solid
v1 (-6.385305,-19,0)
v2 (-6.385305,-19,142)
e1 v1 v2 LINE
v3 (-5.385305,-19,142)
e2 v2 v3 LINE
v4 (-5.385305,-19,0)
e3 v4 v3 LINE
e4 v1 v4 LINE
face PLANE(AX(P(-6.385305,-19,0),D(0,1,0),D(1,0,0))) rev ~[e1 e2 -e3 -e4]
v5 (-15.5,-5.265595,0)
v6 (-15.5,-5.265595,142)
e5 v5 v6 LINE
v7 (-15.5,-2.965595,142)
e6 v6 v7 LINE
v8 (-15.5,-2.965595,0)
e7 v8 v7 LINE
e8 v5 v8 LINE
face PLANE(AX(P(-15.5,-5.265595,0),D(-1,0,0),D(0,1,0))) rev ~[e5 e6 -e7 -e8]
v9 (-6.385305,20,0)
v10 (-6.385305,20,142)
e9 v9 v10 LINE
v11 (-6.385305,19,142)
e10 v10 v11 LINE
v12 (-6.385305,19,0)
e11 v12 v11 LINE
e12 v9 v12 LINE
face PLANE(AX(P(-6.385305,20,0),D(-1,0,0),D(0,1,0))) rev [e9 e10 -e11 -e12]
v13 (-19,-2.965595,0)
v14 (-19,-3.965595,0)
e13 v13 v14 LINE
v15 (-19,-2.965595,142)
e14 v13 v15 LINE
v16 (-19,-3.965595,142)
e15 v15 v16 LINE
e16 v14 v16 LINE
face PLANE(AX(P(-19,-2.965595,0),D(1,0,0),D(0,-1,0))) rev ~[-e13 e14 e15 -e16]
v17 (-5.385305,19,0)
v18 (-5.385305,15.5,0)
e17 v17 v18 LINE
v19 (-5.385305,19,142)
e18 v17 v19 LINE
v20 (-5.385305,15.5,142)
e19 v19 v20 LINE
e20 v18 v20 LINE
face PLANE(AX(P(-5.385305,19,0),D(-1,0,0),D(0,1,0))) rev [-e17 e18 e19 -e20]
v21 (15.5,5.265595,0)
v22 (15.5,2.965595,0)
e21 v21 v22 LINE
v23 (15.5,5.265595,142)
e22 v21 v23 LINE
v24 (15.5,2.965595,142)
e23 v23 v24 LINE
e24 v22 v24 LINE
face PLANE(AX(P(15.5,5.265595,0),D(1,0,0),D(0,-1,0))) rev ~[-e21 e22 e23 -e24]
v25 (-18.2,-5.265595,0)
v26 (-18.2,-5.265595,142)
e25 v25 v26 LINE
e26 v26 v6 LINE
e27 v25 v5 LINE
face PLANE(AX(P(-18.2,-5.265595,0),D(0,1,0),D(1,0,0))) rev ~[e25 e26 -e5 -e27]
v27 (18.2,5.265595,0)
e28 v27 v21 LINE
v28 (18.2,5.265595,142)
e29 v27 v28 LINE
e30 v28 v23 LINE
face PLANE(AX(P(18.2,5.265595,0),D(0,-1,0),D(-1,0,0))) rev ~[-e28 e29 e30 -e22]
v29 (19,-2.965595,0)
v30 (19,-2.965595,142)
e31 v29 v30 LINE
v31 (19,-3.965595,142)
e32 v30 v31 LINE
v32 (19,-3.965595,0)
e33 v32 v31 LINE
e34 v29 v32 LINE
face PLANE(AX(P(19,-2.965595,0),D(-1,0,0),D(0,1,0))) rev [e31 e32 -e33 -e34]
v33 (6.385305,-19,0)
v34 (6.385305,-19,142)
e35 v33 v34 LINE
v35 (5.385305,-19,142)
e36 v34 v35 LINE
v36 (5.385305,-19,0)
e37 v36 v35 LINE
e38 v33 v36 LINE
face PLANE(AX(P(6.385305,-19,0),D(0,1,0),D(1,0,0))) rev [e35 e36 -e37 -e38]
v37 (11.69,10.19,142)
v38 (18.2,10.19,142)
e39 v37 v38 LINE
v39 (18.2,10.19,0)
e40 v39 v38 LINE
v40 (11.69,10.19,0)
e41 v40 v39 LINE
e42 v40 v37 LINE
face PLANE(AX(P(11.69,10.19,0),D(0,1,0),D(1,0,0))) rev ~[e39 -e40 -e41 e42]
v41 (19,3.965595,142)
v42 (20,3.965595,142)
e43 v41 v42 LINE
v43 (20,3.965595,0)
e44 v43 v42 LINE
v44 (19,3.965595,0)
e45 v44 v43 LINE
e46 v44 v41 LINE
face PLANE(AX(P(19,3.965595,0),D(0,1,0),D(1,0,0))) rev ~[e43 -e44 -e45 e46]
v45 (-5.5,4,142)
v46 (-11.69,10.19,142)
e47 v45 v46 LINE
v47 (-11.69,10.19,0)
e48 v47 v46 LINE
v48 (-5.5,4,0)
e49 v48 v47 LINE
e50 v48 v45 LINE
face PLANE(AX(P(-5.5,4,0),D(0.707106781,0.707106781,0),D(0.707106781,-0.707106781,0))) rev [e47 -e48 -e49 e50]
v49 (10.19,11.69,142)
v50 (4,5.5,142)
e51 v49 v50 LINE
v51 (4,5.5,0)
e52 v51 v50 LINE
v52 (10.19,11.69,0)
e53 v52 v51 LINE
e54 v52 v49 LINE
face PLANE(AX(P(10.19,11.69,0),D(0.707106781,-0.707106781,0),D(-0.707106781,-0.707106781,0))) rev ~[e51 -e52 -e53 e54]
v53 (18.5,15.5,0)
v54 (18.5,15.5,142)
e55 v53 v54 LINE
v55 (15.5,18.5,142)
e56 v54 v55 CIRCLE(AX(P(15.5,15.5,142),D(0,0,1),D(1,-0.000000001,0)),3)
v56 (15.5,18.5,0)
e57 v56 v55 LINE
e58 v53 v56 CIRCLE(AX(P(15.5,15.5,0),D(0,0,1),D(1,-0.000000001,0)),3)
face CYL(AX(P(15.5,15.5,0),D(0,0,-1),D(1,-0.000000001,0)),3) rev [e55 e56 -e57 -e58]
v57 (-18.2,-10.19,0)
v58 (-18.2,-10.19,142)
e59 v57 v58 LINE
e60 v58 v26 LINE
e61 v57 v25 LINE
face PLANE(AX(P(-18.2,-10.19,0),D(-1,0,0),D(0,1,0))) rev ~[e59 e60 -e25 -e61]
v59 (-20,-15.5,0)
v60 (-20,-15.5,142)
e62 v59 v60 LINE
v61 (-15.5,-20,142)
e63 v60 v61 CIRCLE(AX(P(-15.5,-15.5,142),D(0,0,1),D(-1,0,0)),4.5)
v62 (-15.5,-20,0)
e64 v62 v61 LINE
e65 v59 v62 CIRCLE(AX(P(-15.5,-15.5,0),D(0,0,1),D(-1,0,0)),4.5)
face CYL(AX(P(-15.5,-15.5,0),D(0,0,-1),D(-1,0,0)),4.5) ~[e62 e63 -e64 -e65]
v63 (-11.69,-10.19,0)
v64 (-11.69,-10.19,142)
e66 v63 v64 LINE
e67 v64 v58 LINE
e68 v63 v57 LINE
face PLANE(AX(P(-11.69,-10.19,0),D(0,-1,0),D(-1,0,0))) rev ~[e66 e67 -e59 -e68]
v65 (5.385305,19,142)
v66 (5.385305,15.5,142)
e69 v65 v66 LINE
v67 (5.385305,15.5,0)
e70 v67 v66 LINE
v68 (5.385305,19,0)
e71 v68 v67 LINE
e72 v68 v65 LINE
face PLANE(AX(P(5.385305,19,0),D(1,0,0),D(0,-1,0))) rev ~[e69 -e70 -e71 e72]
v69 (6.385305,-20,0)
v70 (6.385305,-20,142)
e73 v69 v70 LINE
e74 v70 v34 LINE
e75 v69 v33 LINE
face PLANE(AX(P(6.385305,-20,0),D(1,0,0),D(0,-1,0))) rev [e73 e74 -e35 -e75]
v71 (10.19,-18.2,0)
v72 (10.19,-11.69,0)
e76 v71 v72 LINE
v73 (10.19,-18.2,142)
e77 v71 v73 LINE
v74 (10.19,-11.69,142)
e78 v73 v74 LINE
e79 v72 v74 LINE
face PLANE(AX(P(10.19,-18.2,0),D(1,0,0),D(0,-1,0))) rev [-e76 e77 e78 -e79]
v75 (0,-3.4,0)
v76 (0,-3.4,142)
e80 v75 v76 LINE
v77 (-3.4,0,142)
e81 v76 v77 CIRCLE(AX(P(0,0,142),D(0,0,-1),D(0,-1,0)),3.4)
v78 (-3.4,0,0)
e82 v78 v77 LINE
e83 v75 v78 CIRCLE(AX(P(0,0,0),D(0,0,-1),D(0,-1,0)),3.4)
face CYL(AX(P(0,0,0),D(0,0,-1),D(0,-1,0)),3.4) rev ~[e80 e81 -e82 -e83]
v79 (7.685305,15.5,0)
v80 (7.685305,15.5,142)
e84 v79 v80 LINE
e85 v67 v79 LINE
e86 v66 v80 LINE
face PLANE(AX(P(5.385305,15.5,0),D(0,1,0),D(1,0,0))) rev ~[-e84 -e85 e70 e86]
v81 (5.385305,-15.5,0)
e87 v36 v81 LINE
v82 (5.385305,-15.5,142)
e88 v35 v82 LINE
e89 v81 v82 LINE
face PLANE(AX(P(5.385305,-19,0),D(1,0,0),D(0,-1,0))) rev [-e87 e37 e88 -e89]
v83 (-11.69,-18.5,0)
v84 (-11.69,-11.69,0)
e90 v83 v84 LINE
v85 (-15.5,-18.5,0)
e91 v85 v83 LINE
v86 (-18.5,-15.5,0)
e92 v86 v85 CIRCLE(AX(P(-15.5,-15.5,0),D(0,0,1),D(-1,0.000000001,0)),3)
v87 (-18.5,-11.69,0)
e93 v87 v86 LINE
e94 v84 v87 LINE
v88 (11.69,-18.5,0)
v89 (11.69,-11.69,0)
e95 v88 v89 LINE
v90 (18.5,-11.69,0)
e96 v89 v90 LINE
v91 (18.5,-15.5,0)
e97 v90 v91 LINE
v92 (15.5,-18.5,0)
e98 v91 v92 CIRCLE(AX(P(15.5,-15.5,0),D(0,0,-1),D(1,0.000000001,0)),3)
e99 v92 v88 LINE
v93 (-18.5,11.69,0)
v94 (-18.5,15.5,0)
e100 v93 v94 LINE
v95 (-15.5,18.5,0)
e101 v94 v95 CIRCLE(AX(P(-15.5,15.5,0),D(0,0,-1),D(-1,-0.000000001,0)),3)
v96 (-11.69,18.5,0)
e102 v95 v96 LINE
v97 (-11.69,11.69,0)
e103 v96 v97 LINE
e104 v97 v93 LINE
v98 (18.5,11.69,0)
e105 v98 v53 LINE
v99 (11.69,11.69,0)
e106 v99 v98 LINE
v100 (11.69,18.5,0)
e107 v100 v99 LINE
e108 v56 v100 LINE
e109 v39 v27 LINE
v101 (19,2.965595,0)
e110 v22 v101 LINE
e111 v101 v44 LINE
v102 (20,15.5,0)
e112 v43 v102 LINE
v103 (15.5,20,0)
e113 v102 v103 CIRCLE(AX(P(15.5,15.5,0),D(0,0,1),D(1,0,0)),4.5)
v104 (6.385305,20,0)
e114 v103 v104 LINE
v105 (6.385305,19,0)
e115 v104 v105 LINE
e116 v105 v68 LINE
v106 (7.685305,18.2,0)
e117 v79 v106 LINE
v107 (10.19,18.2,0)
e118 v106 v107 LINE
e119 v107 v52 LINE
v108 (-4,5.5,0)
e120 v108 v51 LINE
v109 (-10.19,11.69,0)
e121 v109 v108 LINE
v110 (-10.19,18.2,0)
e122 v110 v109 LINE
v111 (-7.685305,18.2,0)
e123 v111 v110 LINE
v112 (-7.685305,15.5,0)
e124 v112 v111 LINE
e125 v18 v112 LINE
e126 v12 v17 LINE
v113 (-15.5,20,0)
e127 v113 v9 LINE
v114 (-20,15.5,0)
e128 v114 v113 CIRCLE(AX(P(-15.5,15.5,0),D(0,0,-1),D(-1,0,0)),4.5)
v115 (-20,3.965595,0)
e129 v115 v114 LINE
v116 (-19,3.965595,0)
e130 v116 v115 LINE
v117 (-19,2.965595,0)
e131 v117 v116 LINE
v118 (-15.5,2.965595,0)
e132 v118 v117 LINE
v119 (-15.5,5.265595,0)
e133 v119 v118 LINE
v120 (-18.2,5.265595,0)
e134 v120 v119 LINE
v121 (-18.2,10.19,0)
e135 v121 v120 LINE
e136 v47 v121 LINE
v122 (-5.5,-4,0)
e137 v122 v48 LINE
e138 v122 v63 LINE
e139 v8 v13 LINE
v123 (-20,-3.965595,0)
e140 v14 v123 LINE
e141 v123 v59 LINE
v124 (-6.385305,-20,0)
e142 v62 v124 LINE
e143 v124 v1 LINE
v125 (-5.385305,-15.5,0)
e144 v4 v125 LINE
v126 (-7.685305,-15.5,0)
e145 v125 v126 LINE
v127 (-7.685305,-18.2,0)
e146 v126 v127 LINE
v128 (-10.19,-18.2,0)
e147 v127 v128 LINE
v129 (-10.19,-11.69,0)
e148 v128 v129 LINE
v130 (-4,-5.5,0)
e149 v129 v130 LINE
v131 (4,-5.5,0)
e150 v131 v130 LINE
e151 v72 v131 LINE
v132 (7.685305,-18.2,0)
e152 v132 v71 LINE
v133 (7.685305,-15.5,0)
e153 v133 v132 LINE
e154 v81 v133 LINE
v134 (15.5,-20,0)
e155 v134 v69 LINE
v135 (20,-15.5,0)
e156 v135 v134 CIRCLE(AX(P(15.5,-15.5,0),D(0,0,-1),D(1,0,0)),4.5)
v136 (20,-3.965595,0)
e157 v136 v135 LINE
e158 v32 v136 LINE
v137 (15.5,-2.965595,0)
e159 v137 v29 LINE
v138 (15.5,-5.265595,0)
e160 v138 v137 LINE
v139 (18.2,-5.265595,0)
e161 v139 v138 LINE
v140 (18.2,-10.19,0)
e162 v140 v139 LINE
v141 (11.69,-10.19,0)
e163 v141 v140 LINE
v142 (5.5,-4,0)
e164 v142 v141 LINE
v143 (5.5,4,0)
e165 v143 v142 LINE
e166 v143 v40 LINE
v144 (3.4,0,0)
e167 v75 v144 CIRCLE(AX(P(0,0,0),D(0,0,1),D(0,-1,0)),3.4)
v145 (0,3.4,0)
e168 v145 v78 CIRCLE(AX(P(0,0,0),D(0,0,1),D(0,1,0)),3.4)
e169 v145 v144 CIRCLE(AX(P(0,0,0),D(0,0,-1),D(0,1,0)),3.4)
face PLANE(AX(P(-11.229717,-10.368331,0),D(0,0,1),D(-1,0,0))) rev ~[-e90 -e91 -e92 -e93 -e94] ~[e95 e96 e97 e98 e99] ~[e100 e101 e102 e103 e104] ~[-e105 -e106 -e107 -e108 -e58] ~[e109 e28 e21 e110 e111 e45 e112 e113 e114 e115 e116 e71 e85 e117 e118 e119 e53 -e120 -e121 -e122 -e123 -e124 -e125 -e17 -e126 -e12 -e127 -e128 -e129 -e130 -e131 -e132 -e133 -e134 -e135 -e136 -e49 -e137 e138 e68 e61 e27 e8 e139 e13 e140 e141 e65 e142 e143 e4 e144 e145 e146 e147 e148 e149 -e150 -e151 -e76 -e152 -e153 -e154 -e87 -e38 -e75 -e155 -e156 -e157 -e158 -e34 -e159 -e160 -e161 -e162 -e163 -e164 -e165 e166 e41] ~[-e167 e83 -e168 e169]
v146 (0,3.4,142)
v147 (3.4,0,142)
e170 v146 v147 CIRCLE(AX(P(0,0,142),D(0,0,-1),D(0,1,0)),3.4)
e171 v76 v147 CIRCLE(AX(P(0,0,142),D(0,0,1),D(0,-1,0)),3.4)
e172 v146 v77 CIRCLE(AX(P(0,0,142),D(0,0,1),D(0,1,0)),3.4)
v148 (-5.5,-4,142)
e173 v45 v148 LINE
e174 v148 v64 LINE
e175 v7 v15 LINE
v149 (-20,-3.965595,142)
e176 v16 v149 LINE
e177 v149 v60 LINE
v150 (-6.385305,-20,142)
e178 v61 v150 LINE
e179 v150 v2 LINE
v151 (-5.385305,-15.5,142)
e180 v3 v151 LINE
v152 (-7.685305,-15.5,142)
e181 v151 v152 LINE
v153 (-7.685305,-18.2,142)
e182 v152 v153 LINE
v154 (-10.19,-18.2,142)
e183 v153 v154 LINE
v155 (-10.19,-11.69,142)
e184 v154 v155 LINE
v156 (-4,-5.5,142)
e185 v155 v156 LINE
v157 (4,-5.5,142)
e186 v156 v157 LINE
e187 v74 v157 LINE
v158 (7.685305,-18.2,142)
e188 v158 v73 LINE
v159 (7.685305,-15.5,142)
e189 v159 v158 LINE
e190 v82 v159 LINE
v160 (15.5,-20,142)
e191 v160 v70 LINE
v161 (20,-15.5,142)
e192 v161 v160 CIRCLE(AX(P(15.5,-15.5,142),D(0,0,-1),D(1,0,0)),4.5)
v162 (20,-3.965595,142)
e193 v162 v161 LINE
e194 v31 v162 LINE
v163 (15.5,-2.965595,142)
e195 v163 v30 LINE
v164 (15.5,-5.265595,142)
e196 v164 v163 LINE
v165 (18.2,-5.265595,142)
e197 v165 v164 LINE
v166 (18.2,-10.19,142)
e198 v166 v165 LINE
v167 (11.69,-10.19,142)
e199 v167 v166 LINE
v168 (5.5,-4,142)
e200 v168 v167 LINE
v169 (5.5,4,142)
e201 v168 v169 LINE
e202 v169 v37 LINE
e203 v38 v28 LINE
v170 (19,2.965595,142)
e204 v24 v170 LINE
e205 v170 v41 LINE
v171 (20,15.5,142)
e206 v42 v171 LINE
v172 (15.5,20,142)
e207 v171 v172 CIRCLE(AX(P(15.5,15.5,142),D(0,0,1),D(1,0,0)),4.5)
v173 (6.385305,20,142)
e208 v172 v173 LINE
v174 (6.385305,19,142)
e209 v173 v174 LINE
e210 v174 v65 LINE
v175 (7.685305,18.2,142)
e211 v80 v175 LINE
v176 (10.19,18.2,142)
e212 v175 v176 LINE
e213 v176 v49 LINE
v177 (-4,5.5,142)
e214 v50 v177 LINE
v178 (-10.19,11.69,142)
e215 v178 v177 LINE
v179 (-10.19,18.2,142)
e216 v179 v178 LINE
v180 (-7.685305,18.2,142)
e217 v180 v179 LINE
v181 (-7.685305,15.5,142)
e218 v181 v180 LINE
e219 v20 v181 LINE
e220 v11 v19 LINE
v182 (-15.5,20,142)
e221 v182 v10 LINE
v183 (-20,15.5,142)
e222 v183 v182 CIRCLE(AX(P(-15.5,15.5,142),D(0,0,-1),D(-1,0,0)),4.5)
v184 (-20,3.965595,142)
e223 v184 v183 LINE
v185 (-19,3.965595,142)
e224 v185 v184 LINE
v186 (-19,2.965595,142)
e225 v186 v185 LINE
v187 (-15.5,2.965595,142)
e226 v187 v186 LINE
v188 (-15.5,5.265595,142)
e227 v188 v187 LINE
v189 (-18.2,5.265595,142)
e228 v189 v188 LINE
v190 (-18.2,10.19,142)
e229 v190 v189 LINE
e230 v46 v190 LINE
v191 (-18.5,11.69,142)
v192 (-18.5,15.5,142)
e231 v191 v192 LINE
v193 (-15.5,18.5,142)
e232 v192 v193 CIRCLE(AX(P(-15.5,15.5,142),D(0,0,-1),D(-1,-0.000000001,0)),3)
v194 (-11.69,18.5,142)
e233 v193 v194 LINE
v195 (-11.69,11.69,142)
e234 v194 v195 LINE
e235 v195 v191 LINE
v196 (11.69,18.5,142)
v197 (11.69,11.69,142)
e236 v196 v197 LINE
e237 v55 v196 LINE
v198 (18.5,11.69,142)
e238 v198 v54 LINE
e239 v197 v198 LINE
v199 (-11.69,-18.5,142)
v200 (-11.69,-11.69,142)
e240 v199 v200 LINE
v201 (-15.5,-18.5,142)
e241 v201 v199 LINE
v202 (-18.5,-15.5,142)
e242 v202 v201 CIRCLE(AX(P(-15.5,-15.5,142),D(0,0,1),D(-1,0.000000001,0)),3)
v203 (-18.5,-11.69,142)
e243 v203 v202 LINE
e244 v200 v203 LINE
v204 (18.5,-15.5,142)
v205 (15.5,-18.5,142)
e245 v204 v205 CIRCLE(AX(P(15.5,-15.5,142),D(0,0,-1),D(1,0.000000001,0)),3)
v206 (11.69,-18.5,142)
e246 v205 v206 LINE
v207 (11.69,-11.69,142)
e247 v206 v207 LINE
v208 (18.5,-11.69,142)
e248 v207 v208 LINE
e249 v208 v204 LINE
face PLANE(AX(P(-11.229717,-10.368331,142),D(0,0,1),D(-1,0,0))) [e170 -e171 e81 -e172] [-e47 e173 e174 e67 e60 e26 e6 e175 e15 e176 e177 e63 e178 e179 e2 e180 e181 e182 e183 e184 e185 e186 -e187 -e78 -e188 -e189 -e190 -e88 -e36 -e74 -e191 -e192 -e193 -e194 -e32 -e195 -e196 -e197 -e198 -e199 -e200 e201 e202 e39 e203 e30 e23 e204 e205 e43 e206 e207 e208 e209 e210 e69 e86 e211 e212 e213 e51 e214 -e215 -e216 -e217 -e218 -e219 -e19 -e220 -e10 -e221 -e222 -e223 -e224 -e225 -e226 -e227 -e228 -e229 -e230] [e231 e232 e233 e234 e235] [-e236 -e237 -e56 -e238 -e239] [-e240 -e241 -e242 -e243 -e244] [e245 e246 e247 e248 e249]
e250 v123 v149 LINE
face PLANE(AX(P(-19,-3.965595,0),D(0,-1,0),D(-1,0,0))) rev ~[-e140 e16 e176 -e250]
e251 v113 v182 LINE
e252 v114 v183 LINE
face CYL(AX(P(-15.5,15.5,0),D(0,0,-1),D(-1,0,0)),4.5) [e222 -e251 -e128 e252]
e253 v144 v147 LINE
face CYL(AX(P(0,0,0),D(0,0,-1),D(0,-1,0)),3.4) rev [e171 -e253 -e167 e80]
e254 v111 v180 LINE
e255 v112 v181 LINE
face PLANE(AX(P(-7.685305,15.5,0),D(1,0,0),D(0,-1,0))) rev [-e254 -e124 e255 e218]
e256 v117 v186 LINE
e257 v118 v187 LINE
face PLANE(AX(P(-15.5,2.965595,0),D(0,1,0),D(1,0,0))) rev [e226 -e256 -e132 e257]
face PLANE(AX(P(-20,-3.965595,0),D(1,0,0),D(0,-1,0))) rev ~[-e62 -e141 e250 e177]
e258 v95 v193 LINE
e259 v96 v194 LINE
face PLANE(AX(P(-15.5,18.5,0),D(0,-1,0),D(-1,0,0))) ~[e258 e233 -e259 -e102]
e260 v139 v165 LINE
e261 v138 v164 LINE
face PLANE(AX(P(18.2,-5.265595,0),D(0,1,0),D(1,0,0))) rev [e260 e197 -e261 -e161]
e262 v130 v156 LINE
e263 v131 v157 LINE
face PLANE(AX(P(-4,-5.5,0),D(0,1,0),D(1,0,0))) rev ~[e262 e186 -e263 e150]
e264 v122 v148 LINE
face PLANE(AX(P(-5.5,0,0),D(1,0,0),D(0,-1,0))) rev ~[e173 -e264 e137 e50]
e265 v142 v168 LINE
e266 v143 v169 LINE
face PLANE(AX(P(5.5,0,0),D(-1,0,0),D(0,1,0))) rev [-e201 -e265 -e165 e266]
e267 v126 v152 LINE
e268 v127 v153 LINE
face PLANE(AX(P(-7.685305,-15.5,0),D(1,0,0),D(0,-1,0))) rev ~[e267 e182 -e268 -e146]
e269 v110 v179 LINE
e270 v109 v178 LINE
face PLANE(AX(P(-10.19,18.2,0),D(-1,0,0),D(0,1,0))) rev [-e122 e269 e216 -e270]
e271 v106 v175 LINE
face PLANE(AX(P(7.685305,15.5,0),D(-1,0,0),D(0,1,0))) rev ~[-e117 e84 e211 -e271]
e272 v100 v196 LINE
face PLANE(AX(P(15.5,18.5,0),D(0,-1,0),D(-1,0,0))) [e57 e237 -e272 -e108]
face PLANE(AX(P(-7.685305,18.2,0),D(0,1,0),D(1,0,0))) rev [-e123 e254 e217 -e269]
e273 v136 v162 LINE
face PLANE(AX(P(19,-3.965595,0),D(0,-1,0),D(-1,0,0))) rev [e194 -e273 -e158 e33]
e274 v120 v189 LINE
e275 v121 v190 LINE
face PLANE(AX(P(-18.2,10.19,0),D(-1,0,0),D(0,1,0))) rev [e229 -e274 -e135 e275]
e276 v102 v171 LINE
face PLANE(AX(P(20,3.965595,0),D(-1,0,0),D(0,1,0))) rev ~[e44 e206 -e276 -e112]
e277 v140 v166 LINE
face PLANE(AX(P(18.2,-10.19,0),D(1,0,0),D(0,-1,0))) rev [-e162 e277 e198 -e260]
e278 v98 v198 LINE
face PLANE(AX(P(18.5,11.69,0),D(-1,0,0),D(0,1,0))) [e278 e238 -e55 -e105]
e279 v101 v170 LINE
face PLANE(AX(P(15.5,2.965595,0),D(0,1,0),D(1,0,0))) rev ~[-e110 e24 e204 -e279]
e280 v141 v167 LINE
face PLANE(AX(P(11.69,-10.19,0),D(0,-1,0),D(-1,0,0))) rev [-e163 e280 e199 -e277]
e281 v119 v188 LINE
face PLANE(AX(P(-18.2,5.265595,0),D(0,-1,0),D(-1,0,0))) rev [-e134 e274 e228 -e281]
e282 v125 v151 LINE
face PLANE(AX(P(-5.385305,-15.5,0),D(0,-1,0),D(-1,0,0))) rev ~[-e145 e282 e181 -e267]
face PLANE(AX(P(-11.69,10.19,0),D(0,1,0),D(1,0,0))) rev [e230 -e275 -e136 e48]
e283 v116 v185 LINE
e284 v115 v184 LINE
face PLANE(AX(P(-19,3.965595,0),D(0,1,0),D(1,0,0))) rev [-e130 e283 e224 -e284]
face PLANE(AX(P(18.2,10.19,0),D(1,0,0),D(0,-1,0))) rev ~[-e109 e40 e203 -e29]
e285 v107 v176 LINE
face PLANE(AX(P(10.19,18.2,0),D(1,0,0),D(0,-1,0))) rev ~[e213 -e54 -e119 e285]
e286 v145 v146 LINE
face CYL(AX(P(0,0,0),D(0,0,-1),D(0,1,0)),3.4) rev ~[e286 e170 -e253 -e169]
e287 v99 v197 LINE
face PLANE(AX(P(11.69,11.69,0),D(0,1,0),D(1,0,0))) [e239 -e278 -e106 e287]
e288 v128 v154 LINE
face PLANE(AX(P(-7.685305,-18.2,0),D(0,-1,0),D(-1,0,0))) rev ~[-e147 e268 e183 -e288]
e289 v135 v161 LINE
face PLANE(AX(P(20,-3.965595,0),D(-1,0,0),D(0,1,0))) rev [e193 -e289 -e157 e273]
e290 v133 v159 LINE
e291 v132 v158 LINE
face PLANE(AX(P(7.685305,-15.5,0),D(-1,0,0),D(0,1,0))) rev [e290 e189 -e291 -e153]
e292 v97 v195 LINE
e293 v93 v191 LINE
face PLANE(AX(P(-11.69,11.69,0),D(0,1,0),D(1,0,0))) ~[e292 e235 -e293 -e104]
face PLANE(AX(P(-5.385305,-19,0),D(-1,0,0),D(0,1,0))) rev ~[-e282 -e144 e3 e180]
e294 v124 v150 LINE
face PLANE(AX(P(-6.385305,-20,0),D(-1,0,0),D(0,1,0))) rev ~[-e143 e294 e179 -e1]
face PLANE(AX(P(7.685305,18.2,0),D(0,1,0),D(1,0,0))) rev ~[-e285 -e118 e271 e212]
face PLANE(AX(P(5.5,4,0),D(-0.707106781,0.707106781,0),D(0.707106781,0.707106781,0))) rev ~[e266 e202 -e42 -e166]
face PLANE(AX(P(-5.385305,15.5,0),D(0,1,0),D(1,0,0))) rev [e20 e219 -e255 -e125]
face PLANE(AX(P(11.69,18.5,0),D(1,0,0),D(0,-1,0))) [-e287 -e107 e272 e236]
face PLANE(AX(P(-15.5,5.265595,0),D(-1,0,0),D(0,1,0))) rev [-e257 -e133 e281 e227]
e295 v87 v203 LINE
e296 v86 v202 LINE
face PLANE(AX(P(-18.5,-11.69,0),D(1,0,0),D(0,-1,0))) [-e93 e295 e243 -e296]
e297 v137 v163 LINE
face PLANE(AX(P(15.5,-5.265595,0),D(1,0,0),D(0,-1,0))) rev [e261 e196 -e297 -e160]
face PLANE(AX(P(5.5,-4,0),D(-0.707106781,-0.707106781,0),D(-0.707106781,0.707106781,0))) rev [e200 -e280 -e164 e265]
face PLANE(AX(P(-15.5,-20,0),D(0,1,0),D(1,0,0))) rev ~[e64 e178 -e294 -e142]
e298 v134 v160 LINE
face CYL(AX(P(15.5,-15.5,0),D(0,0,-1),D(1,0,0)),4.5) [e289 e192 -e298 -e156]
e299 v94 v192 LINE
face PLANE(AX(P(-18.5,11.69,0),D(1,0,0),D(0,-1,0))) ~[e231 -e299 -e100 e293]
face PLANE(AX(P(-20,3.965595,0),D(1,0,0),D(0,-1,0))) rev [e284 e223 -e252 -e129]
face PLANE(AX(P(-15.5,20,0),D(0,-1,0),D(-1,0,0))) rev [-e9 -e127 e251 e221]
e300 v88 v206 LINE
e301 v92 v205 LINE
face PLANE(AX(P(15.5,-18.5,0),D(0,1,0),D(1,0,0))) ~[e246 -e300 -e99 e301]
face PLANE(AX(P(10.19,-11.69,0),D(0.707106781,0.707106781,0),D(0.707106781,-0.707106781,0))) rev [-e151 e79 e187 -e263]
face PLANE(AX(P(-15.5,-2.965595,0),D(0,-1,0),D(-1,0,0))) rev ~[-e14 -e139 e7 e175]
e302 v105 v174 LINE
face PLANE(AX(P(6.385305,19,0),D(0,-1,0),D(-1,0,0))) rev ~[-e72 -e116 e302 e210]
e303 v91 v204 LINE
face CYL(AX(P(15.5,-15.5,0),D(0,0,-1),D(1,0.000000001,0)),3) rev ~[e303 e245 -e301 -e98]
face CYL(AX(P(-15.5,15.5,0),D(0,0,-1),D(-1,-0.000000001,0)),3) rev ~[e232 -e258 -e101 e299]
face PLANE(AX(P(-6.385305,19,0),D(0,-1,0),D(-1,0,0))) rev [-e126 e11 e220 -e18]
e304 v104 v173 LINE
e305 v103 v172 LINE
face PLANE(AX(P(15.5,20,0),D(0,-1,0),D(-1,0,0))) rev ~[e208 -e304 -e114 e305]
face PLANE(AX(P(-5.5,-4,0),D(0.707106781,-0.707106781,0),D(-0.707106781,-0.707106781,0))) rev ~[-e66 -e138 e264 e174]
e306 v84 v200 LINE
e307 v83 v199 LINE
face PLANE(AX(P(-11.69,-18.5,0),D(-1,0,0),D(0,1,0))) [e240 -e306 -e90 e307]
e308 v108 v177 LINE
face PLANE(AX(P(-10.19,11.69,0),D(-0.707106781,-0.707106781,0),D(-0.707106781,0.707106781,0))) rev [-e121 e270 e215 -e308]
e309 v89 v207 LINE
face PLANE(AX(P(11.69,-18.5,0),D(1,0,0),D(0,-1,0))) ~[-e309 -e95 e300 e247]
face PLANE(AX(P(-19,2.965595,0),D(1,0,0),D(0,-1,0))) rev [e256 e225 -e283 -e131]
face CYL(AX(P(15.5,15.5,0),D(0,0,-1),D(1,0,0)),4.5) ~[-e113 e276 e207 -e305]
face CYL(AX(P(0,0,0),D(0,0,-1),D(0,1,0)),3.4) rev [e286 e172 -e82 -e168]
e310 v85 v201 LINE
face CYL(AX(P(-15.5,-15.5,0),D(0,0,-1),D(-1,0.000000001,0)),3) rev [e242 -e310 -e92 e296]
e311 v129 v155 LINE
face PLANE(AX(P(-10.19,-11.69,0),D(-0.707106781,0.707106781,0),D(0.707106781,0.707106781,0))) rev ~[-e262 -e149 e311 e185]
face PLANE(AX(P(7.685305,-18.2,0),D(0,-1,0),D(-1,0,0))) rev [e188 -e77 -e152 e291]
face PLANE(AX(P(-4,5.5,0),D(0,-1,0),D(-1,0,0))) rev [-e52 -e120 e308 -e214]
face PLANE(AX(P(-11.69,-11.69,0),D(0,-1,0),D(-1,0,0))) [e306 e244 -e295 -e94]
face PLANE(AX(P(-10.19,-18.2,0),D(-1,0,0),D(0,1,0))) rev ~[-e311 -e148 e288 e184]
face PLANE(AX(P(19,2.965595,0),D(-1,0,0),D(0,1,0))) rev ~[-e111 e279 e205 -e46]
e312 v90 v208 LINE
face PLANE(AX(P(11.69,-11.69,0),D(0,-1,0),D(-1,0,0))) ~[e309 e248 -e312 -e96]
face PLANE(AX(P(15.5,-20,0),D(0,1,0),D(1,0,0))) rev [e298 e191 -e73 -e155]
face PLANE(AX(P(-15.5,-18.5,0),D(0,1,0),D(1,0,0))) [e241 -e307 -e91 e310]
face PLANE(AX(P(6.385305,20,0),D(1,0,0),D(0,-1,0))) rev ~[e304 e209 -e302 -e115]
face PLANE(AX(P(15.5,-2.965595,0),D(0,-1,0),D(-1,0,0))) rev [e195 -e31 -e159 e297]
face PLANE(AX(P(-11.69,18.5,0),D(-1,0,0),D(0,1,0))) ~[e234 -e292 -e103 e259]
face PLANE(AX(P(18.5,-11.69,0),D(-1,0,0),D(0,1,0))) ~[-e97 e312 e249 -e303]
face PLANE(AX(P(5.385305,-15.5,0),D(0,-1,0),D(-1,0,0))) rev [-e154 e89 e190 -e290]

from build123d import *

# Parameters (mm, degrees)
BOSS_EXTRUDE1_DEPTH  = 142
MIRROR3_COPY_1_DEPTH = 142
MIRROR3_COPY_2_DEPTH = 142


with BuildPart() as part:
    # Sketch1 → Boss-Extrude1 (new body)
    with BuildSketch(Plane.XY):
        with BuildLine():
            Line((3.4, 0), (5.5, 0))
            Line((5.5, 0), (5.5, 4))
            Line((5.5, 4), (11.69, 10.19))
            Line((11.69, 10.19), (18.2, 10.19))
            Line((18.2, 10.19), (18.2, 5.265595036))
            Line((18.2, 5.265595036), (15.5, 5.265595036))
            Line((15.5, 5.265595036), (15.5, 2.965595036))
            Line((15.5, 2.965595036), (19, 2.965595036))
            Line((19, 2.965595036), (19, 3.965595036))
            Line((19, 3.965595036), (20, 3.965595036))
            Line((20, 3.965595036), (20, 15.5))
            ThreePointArc((20, 15.5), (18.681980515, 18.681980515), (15.5, 20))
            Line((15.5, 20), (6.385304712, 20))
            Line((6.385304712, 20), (6.385304712, 19))
            Line((6.385304712, 19), (5.385304712, 19))
            Line((5.385304712, 19), (5.385304712, 15.5))
            Line((5.385304712, 15.5), (7.685304712, 15.5))
            Line((7.685304712, 15.5), (7.685304712, 18.2))
            Line((7.685304712, 18.2), (10.19, 18.2))
            Line((10.19, 18.2), (10.19, 11.69))
            Line((10.19, 11.69), (4, 5.5))
            Line((4, 5.5), (0, 5.5))
            Line((0, 5.5), (0, 3.4))
            ThreePointArc((0, 3.4), (2.404163056, 2.404163056), (3.4, 0))
        make_face()
        with BuildLine():
            Line((18.5, 11.69), (18.5, 15.5))
            ThreePointArc((18.5, 15.5), (17.621320344, 17.621320344), (15.5, 18.5))
            Line((15.5, 18.5), (11.69, 18.5))
            Line((11.69, 18.5), (11.69, 11.69))
            Line((11.69, 11.69), (18.5, 11.69))
        make_face(mode=Mode.SUBTRACT)
    boss_extrude1 = extrude(amount=BOSS_EXTRUDE1_DEPTH)

    # Mirror1: Boss-Extrude1 across plane
    add(boss_extrude1.mirror(Plane.ZX))

    # Mirror2: Boss-Extrude1 across plane
    add(boss_extrude1.mirror(Plane(origin=(0, 0, 0), x_dir=(0, 0, 1), z_dir=(1, 0, 0))))

    # Mirror3 copy 1 sketch → Mirror3 copy 1 (add)
    with BuildSketch(Plane(origin=(0, 0, 0), x_dir=(-1, 0, 0), z_dir=(0, 0, 1))):
        with BuildLine():
            Line((3.4, 0), (5.5, 0))
            Line((5.5, 0), (5.5, 4))
            Line((5.5, 4), (11.69, 10.19))
            Line((11.69, 10.19), (18.2, 10.19))
            Line((18.2, 10.19), (18.2, 5.265595036))
            Line((18.2, 5.265595036), (15.5, 5.265595036))
            Line((15.5, 5.265595036), (15.5, 2.965595036))
            Line((15.5, 2.965595036), (19, 2.965595036))
            Line((19, 2.965595036), (19, 3.965595036))
            Line((19, 3.965595036), (20, 3.965595036))
            Line((20, 3.965595036), (20, 15.5))
            ThreePointArc((20, 15.5), (18.681980515, 18.681980515), (15.5, 20))
            Line((15.5, 20), (6.385304712, 20))
            Line((6.385304712, 20), (6.385304712, 19))
            Line((6.385304712, 19), (5.385304712, 19))
            Line((5.385304712, 19), (5.385304712, 15.5))
            Line((5.385304712, 15.5), (7.685304712, 15.5))
            Line((7.685304712, 15.5), (7.685304712, 18.2))
            Line((7.685304712, 18.2), (10.19, 18.2))
            Line((10.19, 18.2), (10.19, 11.69))
            Line((10.19, 11.69), (4, 5.5))
            Line((4, 5.5), (0, 5.5))
            Line((0, 5.5), (0, 3.4))
            ThreePointArc((0, 3.4), (2.404163056, 2.404163056), (3.4, 0))
        make_face()
        with BuildLine():
            Line((18.5, 11.69), (18.5, 15.5))
            ThreePointArc((18.5, 15.5), (17.621320344, 17.621320344), (15.5, 18.5))
            Line((15.5, 18.5), (11.69, 18.5))
            Line((11.69, 18.5), (11.69, 11.69))
            Line((11.69, 11.69), (18.5, 11.69))
        make_face(mode=Mode.SUBTRACT)
    extrude(amount=MIRROR3_COPY_1_DEPTH)

    # Mirror3 copy 2 sketch → Mirror3 copy 2 (add)
    with BuildSketch(Plane.XY):
        with BuildLine():
            Line((3.4, 0), (5.5, 0))
            Line((5.5, 0), (5.5, -4))
            Line((5.5, -4), (11.69, -10.19))
            Line((11.69, -10.19), (18.2, -10.19))
            Line((18.2, -10.19), (18.2, -5.265595036))
            Line((18.2, -5.265595036), (15.5, -5.265595036))
            Line((15.5, -5.265595036), (15.5, -2.965595036))
            Line((15.5, -2.965595036), (19, -2.965595036))
            Line((19, -2.965595036), (19, -3.965595036))
            Line((19, -3.965595036), (20, -3.965595036))
            Line((20, -3.965595036), (20, -15.5))
            ThreePointArc((20, -15.5), (18.681980515, -18.681980515), (15.5, -20))
            Line((15.5, -20), (6.385304712, -20))
            Line((6.385304712, -20), (6.385304712, -19))
            Line((6.385304712, -19), (5.385304712, -19))
            Line((5.385304712, -19), (5.385304712, -15.5))
            Line((5.385304712, -15.5), (7.685304712, -15.5))
            Line((7.685304712, -15.5), (7.685304712, -18.2))
            Line((7.685304712, -18.2), (10.19, -18.2))
            Line((10.19, -18.2), (10.19, -11.69))
            Line((10.19, -11.69), (4, -5.5))
            Line((4, -5.5), (0, -5.5))
            Line((0, -5.5), (0, -3.4))
            ThreePointArc((0, -3.4), (2.404163056, -2.404163056), (3.4, 0))
        make_face()
        with BuildLine():
            Line((18.5, -11.69), (18.5, -15.5))
            ThreePointArc((18.5, -15.5), (17.621320344, -17.621320344), (15.5, -18.5))
            Line((15.5, -18.5), (11.69, -18.5))
            Line((11.69, -18.5), (11.69, -11.69))
            Line((11.69, -11.69), (18.5, -11.69))
        make_face(mode=Mode.SUBTRACT)
    extrude(amount=MIRROR3_COPY_2_DEPTH)


solid = part.part
